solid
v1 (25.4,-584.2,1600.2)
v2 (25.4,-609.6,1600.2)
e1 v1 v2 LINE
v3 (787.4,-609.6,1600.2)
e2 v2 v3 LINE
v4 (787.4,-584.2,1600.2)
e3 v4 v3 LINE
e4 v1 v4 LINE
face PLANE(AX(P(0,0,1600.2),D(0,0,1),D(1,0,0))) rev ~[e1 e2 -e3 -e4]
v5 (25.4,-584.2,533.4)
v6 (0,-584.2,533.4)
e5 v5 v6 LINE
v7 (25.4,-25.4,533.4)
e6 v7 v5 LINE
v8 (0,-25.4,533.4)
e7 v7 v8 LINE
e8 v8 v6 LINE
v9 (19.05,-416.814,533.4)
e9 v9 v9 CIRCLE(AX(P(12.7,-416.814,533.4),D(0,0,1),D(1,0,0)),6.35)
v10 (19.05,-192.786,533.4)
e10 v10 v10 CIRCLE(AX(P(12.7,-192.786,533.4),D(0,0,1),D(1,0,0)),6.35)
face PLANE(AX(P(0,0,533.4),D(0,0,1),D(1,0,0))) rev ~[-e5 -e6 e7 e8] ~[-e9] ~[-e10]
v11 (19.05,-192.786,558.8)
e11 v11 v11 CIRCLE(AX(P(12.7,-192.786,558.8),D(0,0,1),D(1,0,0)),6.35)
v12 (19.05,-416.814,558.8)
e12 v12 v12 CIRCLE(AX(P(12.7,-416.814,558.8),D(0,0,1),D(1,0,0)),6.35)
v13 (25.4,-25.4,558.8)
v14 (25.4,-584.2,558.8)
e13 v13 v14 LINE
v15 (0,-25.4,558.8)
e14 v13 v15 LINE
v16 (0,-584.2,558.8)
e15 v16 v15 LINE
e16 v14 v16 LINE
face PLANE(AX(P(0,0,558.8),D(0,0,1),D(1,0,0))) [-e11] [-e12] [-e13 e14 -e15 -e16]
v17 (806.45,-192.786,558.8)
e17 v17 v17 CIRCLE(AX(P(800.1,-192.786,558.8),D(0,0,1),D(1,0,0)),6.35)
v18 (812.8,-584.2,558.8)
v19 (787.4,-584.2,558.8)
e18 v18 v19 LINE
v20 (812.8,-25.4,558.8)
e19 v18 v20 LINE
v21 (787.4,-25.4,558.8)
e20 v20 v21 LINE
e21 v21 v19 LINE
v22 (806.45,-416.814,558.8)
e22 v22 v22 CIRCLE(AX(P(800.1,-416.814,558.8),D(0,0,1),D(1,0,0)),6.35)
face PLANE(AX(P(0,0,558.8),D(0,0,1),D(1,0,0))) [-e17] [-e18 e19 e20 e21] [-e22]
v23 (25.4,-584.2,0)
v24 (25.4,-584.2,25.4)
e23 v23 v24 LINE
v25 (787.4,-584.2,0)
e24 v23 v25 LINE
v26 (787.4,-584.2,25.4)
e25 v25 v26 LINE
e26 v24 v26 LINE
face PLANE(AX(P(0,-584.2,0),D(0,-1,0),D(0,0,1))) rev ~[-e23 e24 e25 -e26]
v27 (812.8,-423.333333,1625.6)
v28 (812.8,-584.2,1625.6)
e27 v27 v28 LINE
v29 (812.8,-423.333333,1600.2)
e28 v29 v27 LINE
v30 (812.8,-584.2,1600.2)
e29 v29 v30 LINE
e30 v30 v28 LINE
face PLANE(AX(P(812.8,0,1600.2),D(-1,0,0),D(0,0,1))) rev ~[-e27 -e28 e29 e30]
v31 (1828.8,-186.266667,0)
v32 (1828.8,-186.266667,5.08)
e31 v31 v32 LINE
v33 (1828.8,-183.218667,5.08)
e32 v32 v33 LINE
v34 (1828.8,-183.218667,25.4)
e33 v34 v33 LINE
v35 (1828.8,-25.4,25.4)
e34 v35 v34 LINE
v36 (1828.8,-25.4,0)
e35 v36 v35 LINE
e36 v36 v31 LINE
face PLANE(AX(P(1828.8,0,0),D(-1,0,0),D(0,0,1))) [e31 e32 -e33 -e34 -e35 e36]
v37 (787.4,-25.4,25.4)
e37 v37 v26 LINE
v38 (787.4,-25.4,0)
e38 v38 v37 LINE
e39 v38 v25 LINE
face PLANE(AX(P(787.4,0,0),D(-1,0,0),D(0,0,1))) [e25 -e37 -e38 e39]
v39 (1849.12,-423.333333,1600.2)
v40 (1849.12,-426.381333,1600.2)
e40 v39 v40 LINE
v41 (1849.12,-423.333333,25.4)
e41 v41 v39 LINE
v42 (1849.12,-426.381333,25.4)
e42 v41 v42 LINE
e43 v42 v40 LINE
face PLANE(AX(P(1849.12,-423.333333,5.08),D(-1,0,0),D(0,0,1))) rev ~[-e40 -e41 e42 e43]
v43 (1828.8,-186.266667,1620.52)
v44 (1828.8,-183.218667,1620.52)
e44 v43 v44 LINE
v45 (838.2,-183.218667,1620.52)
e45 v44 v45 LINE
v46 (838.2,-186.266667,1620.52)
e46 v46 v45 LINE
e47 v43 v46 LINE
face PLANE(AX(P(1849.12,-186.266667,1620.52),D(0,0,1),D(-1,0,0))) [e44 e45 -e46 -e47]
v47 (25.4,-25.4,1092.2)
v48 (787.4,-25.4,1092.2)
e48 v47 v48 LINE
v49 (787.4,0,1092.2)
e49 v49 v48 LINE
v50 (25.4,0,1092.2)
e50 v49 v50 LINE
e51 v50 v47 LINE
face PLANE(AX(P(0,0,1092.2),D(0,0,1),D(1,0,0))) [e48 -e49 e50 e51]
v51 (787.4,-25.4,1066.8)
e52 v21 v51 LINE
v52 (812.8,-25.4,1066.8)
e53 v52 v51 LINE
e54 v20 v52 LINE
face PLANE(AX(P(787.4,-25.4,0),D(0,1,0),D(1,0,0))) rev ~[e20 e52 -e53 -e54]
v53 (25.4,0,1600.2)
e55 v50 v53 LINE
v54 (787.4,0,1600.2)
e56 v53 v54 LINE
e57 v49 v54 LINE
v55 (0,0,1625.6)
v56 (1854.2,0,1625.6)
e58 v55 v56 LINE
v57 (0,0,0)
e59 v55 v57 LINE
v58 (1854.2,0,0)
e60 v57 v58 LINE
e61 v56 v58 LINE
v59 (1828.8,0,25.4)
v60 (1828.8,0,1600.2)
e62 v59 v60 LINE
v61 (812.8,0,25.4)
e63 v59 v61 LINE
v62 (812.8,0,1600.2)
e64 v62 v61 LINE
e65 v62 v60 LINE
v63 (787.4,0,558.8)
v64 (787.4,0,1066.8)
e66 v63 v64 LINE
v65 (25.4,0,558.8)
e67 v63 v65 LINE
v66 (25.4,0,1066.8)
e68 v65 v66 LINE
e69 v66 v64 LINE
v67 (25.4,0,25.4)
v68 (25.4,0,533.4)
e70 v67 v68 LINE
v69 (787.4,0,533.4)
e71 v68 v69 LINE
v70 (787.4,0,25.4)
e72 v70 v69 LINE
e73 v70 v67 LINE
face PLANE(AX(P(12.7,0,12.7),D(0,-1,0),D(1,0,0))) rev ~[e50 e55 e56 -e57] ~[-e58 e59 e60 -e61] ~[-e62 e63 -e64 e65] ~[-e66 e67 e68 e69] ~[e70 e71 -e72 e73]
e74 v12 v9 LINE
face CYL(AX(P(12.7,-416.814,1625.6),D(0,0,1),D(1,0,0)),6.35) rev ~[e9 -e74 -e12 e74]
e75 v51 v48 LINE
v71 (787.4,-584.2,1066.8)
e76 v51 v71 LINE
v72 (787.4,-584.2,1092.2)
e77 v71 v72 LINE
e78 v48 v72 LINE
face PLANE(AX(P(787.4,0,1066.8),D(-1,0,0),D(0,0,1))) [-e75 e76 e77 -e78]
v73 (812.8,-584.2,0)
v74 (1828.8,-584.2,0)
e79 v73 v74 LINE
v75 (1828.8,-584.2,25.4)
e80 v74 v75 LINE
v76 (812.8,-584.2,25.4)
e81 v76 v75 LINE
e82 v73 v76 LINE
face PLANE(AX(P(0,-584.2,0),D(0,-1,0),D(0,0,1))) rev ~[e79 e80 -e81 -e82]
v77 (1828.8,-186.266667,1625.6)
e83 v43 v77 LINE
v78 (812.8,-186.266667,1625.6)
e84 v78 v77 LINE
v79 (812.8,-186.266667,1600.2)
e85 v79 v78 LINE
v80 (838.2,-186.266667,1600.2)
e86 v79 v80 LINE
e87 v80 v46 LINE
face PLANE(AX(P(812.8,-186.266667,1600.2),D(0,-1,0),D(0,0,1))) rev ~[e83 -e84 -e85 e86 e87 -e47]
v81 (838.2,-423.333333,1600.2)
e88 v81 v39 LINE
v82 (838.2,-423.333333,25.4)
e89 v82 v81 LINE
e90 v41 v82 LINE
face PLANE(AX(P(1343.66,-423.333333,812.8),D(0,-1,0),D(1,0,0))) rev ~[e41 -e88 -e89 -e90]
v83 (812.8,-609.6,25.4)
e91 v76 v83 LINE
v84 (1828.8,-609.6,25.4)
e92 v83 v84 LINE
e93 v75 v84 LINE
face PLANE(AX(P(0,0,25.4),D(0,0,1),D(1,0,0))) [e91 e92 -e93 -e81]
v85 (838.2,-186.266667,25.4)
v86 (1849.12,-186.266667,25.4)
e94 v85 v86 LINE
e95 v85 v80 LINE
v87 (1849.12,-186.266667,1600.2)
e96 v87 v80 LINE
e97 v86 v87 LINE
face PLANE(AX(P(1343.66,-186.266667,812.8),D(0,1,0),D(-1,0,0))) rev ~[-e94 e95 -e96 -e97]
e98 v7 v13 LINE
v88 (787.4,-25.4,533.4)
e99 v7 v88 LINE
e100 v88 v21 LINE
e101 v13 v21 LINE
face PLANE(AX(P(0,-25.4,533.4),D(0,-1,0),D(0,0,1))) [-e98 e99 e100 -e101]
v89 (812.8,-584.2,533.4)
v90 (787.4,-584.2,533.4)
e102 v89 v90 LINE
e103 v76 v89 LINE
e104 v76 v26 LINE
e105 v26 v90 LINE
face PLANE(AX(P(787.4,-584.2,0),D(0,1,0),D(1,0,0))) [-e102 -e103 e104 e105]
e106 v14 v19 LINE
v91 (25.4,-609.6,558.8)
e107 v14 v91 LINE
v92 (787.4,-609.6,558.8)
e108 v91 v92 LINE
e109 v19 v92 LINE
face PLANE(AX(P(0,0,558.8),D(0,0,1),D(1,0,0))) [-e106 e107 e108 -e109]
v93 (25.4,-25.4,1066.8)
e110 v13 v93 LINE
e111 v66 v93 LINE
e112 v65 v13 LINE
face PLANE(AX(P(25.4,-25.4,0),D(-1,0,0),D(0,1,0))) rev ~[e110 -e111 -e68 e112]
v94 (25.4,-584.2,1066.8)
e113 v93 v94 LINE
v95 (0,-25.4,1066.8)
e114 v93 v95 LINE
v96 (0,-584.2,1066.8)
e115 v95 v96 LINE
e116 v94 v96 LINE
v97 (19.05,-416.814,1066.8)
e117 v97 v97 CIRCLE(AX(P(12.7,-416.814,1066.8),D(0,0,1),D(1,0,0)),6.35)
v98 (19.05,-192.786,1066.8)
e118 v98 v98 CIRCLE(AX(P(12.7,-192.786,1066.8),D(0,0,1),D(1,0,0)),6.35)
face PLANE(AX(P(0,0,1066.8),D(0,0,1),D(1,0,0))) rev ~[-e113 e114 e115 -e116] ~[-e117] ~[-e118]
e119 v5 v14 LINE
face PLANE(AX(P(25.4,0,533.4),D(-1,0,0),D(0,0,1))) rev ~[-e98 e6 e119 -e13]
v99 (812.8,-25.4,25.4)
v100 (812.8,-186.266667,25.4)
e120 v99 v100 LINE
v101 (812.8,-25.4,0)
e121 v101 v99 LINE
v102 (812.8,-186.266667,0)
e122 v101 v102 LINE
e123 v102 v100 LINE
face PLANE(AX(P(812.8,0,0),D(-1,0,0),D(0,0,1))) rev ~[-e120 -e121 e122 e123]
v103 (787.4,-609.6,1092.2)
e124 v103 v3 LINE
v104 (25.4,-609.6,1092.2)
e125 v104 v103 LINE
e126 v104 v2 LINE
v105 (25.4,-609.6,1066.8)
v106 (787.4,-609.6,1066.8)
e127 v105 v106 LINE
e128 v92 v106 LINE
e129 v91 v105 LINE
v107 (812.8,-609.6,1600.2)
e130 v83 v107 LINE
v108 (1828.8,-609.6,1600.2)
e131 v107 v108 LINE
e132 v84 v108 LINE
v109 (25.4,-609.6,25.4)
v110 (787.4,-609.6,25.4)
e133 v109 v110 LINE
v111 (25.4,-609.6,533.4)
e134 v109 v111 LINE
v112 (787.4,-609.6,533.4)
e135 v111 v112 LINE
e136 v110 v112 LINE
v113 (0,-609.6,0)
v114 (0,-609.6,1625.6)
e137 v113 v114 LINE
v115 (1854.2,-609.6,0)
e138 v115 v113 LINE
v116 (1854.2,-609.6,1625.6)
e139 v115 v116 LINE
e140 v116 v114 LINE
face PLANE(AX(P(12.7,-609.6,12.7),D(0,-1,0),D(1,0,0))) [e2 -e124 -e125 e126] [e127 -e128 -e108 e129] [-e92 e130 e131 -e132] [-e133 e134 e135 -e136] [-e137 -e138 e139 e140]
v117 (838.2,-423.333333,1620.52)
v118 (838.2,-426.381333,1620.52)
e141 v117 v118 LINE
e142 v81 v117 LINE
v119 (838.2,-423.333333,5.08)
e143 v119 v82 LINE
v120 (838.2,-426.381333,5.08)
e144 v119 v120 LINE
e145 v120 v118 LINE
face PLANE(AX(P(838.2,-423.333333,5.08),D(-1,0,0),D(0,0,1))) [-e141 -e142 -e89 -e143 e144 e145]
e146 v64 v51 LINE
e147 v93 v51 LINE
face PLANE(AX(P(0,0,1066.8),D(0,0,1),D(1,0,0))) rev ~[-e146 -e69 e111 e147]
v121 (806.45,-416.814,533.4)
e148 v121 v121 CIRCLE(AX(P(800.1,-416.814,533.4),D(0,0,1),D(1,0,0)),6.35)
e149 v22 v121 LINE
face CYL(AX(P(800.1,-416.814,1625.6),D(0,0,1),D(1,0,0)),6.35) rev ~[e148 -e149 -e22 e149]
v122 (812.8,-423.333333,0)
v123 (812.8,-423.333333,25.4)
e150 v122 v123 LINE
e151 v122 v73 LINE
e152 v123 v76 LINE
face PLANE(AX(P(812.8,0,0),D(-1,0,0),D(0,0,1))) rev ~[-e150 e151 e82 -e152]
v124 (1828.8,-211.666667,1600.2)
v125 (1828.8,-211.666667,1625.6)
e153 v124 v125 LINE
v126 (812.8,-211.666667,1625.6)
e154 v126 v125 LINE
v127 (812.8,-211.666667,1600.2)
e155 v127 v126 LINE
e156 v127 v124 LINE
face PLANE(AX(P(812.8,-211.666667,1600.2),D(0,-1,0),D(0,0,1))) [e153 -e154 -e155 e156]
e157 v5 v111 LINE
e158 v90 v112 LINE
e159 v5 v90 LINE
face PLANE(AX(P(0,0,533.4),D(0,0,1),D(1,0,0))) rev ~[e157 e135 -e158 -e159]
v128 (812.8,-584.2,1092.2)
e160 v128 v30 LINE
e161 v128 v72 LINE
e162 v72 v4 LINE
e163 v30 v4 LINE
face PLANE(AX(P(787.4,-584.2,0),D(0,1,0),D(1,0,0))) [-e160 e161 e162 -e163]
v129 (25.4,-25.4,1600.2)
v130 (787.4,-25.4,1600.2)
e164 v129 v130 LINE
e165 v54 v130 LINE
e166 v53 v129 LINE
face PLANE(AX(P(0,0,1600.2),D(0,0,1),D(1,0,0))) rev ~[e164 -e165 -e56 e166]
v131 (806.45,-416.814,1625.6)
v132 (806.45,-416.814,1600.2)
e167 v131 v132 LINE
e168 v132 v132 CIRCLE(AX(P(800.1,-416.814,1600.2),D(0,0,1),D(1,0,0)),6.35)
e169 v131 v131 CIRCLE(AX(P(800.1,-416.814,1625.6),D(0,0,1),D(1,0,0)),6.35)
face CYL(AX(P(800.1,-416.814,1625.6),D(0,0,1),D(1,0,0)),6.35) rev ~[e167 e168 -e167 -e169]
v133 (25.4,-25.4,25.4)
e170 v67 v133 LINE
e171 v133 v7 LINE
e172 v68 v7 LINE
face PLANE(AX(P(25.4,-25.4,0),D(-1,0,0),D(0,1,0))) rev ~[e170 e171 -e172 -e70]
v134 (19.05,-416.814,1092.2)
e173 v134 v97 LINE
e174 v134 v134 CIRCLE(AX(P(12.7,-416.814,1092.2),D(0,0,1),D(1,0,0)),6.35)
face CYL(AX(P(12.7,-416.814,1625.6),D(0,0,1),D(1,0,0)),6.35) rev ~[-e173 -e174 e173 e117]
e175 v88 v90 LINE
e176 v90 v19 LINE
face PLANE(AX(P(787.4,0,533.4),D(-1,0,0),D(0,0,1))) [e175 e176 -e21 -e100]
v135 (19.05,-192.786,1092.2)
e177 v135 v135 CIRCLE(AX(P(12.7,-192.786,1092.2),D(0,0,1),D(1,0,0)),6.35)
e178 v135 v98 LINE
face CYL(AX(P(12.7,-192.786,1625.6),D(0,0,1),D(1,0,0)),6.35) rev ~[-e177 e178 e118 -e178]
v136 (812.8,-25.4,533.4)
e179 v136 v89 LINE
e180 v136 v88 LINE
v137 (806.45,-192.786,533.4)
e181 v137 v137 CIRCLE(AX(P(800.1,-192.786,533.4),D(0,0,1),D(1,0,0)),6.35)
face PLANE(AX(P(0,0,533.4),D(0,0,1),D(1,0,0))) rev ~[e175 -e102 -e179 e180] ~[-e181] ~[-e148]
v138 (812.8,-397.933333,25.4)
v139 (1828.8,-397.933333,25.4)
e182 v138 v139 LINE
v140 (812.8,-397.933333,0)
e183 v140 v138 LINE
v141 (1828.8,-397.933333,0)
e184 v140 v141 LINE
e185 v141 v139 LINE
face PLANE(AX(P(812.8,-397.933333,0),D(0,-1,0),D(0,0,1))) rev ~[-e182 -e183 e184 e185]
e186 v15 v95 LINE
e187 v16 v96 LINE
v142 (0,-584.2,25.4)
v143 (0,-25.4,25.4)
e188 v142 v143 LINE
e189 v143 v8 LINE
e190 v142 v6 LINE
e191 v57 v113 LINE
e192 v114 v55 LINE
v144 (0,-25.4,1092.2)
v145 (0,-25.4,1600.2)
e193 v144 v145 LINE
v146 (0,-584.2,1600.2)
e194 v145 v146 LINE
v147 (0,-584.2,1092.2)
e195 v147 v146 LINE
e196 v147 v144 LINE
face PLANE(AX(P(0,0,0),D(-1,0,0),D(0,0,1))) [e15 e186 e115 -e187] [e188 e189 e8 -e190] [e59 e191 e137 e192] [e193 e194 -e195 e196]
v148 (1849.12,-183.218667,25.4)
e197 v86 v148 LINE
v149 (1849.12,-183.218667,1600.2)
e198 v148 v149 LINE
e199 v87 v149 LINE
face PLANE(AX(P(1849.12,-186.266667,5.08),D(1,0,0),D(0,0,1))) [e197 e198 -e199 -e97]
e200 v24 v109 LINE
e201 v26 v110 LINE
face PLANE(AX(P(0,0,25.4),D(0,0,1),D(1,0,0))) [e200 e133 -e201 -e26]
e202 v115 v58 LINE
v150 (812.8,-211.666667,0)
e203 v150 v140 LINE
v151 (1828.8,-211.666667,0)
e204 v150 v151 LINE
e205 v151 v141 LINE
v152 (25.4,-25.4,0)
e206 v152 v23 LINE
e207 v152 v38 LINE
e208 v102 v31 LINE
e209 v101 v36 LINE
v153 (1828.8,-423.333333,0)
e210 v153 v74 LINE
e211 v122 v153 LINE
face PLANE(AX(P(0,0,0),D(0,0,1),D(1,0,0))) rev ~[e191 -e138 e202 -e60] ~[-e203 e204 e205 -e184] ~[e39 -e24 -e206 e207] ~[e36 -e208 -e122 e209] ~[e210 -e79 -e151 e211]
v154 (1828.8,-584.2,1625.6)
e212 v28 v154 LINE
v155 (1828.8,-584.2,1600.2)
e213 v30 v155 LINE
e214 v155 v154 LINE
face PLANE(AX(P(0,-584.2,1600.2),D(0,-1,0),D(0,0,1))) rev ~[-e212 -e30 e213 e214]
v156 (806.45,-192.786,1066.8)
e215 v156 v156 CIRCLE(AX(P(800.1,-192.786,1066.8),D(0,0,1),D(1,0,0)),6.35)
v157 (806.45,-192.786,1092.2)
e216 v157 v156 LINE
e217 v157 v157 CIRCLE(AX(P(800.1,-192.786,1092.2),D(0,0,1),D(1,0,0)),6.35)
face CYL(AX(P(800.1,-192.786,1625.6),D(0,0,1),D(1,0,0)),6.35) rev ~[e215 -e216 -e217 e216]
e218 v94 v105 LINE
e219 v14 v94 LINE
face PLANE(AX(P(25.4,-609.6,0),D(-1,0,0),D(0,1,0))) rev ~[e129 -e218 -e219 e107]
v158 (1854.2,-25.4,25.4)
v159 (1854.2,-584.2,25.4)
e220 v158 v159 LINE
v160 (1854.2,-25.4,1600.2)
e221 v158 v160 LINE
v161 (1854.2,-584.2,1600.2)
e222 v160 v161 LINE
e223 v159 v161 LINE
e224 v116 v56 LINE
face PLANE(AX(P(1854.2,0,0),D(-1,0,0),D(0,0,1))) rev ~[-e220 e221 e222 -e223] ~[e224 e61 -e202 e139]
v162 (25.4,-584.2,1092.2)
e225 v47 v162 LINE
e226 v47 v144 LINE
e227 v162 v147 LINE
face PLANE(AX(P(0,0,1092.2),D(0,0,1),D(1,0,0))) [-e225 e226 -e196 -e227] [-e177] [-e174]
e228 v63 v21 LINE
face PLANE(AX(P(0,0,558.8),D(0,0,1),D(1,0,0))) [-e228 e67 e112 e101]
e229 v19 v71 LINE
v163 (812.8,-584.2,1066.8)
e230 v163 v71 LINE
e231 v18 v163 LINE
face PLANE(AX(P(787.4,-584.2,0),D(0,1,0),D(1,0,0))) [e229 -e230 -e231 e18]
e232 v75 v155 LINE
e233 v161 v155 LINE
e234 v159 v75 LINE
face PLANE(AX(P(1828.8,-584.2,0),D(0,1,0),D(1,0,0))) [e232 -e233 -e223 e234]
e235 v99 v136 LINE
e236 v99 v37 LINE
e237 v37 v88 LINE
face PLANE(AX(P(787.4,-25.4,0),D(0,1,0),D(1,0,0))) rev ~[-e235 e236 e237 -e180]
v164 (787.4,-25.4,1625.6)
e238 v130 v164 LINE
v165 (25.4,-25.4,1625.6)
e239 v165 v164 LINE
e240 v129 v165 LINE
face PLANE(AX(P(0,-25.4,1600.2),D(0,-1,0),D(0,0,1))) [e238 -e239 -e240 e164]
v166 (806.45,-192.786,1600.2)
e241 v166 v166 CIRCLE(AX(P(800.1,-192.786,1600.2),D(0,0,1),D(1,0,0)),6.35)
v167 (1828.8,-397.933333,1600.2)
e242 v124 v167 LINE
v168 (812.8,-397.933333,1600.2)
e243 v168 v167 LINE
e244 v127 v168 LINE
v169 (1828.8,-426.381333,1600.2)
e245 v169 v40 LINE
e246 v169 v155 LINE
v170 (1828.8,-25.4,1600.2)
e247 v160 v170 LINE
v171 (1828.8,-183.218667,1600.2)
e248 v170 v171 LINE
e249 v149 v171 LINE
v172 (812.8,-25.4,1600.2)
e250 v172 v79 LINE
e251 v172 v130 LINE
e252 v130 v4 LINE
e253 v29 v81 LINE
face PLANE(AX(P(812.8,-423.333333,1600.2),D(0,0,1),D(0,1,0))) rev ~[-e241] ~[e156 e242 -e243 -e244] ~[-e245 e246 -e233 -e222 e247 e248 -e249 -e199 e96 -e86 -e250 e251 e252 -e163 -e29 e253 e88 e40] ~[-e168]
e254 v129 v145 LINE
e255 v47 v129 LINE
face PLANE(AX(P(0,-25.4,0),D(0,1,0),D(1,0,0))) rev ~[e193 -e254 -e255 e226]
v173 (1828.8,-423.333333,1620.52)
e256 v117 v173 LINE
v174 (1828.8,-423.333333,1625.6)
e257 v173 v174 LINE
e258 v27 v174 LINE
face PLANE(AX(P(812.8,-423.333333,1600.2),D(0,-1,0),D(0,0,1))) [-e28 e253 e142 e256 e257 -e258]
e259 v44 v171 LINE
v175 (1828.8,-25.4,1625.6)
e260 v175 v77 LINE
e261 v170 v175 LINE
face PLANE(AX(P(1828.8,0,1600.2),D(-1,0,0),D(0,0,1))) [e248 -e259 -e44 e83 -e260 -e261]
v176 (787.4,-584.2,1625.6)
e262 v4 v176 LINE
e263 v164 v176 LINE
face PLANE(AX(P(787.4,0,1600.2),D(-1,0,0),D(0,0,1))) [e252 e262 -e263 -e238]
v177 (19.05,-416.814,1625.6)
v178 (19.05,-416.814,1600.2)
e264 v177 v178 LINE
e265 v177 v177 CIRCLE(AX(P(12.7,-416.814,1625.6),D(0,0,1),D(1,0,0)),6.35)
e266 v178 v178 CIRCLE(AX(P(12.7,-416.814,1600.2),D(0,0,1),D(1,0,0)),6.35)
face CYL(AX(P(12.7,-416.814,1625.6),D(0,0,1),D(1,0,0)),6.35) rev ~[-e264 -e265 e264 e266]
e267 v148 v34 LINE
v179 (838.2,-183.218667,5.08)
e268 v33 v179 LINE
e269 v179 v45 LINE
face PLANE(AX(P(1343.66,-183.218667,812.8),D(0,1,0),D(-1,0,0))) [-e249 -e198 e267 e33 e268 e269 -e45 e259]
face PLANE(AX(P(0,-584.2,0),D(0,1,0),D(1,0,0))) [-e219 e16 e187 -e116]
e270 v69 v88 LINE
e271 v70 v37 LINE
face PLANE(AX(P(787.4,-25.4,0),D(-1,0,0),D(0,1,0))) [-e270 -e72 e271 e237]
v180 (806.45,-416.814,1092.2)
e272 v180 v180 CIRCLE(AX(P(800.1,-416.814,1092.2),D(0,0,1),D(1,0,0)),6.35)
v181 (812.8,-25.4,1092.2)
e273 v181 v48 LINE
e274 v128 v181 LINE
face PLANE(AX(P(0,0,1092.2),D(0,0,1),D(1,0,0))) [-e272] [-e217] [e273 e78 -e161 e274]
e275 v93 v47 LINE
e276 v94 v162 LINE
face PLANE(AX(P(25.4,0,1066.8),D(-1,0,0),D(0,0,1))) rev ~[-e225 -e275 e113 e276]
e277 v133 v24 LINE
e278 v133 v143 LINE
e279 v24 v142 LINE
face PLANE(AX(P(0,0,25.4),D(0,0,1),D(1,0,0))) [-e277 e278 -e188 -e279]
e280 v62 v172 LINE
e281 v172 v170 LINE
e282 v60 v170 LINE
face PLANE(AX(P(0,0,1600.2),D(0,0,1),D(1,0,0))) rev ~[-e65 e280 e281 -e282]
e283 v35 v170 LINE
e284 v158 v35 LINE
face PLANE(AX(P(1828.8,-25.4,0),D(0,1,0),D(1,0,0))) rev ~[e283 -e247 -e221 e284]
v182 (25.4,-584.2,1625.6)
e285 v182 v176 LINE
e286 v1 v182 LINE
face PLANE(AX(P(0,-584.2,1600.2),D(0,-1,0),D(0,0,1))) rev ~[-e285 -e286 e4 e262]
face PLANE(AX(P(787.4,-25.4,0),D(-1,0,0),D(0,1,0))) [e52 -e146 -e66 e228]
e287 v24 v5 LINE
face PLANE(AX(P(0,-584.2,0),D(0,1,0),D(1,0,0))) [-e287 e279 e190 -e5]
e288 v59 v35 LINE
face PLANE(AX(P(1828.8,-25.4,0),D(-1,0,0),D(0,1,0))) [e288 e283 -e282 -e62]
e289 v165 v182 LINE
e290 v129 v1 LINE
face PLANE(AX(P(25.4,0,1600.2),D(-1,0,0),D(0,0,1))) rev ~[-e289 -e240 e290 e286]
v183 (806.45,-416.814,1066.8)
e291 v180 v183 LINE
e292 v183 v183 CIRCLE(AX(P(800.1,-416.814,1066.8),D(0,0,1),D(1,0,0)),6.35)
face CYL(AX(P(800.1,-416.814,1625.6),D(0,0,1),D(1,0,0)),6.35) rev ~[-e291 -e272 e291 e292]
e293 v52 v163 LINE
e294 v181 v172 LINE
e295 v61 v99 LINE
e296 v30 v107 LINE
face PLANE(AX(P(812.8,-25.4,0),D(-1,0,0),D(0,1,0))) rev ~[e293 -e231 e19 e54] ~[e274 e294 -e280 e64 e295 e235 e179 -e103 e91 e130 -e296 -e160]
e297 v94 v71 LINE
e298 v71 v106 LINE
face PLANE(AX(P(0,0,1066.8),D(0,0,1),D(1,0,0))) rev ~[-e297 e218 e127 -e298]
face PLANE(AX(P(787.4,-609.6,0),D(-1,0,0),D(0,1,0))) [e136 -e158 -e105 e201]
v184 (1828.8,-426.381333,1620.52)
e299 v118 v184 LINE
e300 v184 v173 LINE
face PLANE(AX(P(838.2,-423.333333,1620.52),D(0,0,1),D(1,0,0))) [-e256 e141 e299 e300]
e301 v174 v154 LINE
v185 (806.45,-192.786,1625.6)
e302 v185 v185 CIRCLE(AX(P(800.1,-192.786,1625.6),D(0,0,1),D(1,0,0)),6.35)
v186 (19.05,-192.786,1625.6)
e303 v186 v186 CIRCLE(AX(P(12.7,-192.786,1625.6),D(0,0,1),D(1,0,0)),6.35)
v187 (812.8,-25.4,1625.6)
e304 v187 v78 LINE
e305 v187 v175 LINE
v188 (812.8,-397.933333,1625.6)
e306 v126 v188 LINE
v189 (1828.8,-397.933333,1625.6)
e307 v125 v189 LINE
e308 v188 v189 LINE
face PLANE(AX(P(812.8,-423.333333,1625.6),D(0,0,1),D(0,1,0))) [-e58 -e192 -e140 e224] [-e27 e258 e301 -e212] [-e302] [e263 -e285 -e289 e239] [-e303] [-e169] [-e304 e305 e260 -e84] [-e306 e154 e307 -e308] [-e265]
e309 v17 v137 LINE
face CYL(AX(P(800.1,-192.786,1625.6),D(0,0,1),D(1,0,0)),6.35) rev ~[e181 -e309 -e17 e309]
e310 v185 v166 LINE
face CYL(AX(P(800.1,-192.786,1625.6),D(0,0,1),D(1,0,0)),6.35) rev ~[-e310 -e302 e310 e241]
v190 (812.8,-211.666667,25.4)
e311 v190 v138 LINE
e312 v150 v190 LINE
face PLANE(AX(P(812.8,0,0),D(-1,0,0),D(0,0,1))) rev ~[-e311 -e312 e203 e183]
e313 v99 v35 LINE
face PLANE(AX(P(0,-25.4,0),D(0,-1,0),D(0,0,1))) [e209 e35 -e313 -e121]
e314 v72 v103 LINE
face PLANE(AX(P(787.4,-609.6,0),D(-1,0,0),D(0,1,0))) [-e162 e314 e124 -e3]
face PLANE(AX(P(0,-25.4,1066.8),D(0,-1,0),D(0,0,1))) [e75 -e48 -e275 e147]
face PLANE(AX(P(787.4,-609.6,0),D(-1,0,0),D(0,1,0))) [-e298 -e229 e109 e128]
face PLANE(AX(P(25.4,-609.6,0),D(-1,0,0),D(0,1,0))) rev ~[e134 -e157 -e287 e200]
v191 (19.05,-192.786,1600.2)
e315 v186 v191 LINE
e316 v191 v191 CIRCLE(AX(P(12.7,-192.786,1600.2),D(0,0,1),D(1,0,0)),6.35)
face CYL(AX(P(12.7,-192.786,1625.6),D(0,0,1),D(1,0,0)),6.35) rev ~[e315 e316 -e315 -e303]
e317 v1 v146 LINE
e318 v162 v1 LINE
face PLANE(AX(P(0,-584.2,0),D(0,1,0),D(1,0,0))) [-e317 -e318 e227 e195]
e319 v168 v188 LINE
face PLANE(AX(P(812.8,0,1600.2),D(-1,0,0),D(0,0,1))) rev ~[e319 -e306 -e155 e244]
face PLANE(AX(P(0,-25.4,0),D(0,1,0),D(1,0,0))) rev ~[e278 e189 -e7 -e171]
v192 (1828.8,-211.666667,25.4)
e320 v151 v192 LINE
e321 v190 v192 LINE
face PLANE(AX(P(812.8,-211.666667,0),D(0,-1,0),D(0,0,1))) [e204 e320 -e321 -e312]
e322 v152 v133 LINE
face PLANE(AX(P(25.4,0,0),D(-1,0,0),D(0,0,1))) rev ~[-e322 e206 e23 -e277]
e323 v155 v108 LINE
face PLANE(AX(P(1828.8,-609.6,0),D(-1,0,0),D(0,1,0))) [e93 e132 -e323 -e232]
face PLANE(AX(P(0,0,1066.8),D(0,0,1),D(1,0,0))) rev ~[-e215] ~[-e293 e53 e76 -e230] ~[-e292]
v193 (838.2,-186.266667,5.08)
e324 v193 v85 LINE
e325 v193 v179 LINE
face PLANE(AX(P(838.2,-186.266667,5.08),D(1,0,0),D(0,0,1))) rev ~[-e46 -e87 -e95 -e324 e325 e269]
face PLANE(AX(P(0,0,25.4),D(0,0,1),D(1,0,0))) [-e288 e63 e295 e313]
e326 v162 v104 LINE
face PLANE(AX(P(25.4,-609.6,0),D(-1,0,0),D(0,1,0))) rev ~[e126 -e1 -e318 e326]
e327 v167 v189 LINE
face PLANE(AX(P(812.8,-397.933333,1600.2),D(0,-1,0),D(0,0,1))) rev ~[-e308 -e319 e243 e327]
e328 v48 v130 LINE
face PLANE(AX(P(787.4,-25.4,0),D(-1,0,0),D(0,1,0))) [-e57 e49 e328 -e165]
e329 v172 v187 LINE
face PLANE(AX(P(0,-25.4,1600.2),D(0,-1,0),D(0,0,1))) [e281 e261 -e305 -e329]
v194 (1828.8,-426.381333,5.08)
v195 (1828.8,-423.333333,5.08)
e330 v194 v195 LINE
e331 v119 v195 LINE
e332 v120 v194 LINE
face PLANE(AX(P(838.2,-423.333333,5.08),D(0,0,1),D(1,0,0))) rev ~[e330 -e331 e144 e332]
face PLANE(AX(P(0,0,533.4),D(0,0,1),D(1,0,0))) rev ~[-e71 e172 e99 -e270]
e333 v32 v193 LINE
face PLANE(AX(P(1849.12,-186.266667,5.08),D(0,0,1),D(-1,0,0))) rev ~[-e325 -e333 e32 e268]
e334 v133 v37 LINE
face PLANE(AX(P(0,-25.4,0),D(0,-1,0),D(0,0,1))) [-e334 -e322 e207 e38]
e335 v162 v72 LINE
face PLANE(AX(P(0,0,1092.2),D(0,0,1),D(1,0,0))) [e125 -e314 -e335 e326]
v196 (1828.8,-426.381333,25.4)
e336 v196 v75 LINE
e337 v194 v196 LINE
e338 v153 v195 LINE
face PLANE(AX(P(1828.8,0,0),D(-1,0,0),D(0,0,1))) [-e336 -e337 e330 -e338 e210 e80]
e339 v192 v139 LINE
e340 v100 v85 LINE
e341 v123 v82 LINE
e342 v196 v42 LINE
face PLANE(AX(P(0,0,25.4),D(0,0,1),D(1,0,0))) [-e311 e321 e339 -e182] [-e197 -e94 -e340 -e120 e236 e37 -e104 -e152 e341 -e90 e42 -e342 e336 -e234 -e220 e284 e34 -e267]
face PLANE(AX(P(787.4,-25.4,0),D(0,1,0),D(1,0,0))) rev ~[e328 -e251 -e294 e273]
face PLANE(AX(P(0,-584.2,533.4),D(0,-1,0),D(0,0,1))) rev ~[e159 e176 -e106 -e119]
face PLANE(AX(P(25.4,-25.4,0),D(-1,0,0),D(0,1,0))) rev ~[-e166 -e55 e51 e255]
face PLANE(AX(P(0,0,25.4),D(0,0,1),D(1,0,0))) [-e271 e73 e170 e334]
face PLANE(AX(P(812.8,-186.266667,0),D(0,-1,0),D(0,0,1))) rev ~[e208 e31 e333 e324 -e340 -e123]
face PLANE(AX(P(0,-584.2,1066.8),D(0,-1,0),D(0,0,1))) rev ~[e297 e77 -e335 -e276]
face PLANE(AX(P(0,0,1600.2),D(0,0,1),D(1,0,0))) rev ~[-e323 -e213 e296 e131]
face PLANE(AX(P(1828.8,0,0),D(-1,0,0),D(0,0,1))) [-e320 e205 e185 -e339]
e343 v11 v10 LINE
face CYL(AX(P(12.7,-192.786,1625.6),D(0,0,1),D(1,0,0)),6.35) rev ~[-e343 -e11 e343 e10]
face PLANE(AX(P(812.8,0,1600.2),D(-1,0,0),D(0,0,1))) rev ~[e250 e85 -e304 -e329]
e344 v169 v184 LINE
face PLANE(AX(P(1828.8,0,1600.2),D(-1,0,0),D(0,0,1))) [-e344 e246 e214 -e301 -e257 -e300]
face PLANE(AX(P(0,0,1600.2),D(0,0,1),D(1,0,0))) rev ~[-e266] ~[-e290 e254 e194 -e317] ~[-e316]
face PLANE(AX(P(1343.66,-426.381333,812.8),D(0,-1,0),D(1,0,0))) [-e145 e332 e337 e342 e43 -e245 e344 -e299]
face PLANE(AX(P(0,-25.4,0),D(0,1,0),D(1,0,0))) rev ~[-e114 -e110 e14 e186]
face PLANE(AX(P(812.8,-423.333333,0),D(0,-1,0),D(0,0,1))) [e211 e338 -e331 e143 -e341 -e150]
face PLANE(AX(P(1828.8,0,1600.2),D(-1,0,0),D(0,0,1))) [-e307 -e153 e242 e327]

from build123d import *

# Parameters (mm, degrees)
F0_W      = 25.4
F0_H      = 25.4
F1_DEPTH  = 609.6
F2_W      = 25.4
F2_H      = 25.4
F3_DEPTH  = 1854.2
F4_W      = 25.4
F4_H      = 25.4
F5_DEPTH  = 812.8
F6_W      = 25.4
F6_H      = 25.4
F7_DEPTH  = 1625.6
F8_W      = 25.4
F8_H      = 25.4
F9_DEPTH  = 1041.4
F10_W     = 1010.92
F10_H     = 1615.44
F11_DEPTH = 3.048
F12_W     = 1010.92
F12_H     = 1615.44
F13_DEPTH = 3.048
F14_R     = 6.35
F15_DEPTH = 1600.2


with BuildPart() as f1:
    # F0 (on Front) → F1 (new body)
    with BuildSketch(Plane.XZ):
        with Locations((12.7, 12.7)):
            Rectangle(F0_W, F0_H)
        with Locations((12.7, 546.1)):
            Rectangle(F0_W, F0_H)
        with Locations((12.7, 1079.5)):
            Rectangle(F0_W, F0_H)
        with Locations((12.7, 1612.9)):
            Rectangle(F0_W, F0_H)
        with Locations((800.1, 1612.9)):
            Rectangle(F0_W, F0_H)
        with Locations((800.1, 1079.5)):
            Rectangle(F0_W, F0_H)
        with Locations((800.1, 546.1)):
            Rectangle(F0_W, F0_H)
        with Locations((800.1, 12.7)):
            Rectangle(F0_W, F0_H)
        with Locations((1841.5, 1612.9)):
            Rectangle(F0_W, F0_H)
        with Locations((1841.5, 12.7)):
            Rectangle(F0_W, F0_H)
    extrude(amount=F1_DEPTH)

    # F2 (on Right) → F3 (join, through all)
    with BuildSketch(Plane.YZ):
        with Locations((-596.9, 1612.9)):
            Rectangle(F2_W, F2_H)
        with Locations((-12.7, 1612.9)):
            Rectangle(F2_W, F2_H)
        with Locations((-596.9, 12.7)):
            Rectangle(F2_W, F2_H)
        with Locations((-12.7, 12.7)):
            Rectangle(F2_W, F2_H)
    extrude(amount=F3_DEPTH)

    # F4 (on Right) → F5 (join, through all)
    with BuildSketch(Plane.YZ):
        with Locations((-596.9, 546.1)):
            Rectangle(F4_W, F4_H)
        with Locations((-12.7, 546.1)):
            Rectangle(F4_W, F4_H)
        with Locations((-596.9, 1079.5)):
            Rectangle(F4_W, F4_H)
        with Locations((-12.7, 1079.5)):
            Rectangle(F4_W, F4_H)
    extrude(amount=F5_DEPTH)

    # F6 (on Top) → F7 (join, through all)
    with BuildSketch(Plane.XY):
        with Locations((12.7, -12.7)):
            Rectangle(F6_W, F6_H)
        with Locations((800.1, -12.7)):
            Rectangle(F6_W, F6_H)
        with Locations((12.7, -596.9)):
            Rectangle(F6_W, F6_H)
        with Locations((800.1, -596.9)):
            Rectangle(F6_W, F6_H)
        with Locations((1841.5, -596.9)):
            Rectangle(F6_W, F6_H)
        with Locations((1841.5, -12.7)):
            Rectangle(F6_W, F6_H)
    extrude(amount=F7_DEPTH)

    # F8 (on face) → F9 (join, through all)
    with BuildSketch(Plane.YZ.offset(812.8)):
        with Locations((-410.633333, 1612.9)):
            Rectangle(F8_W, F8_H)
        with Locations((-198.966667, 1612.9)):
            Rectangle(F8_W, F8_H)
        with Locations((-410.633333, 12.7)):
            Rectangle(F8_W, F8_H)
        with Locations((-198.966667, 12.7)):
            Rectangle(F8_W, F8_H)
    extrude(amount=F9_DEPTH)

    # F10 (on face) → F11 (join)
    with BuildSketch(Plane.XZ.offset(423.333333)):
        with Locations((1343.66, 812.8)):
            Rectangle(F10_W, F10_H)
    extrude(amount=F11_DEPTH)

    # F12 (on face) → F13 (join)
    with BuildSketch(Plane(origin=(0, -186.266667, 0), x_dir=(-1, 0, 0), z_dir=(0, 1, 0))):
        with Locations((-1343.66, 812.8)):
            Rectangle(F12_W, F12_H)
    extrude(amount=F13_DEPTH)

    # F14 (on face) → F15 (cut, through all)
    with BuildSketch(Plane.XY.offset(1625.6)):
        with Locations((12.7, -416.814)):
            Circle(F14_R)
        with Locations((800.1, -416.814)):
            Circle(F14_R)
        with Locations((800.1, -192.786)):
            Circle(F14_R)
        with Locations((12.7, -192.786)):
            Circle(F14_R)
    extrude(amount=-F15_DEPTH, mode=Mode.SUBTRACT)


solid = f1.part
